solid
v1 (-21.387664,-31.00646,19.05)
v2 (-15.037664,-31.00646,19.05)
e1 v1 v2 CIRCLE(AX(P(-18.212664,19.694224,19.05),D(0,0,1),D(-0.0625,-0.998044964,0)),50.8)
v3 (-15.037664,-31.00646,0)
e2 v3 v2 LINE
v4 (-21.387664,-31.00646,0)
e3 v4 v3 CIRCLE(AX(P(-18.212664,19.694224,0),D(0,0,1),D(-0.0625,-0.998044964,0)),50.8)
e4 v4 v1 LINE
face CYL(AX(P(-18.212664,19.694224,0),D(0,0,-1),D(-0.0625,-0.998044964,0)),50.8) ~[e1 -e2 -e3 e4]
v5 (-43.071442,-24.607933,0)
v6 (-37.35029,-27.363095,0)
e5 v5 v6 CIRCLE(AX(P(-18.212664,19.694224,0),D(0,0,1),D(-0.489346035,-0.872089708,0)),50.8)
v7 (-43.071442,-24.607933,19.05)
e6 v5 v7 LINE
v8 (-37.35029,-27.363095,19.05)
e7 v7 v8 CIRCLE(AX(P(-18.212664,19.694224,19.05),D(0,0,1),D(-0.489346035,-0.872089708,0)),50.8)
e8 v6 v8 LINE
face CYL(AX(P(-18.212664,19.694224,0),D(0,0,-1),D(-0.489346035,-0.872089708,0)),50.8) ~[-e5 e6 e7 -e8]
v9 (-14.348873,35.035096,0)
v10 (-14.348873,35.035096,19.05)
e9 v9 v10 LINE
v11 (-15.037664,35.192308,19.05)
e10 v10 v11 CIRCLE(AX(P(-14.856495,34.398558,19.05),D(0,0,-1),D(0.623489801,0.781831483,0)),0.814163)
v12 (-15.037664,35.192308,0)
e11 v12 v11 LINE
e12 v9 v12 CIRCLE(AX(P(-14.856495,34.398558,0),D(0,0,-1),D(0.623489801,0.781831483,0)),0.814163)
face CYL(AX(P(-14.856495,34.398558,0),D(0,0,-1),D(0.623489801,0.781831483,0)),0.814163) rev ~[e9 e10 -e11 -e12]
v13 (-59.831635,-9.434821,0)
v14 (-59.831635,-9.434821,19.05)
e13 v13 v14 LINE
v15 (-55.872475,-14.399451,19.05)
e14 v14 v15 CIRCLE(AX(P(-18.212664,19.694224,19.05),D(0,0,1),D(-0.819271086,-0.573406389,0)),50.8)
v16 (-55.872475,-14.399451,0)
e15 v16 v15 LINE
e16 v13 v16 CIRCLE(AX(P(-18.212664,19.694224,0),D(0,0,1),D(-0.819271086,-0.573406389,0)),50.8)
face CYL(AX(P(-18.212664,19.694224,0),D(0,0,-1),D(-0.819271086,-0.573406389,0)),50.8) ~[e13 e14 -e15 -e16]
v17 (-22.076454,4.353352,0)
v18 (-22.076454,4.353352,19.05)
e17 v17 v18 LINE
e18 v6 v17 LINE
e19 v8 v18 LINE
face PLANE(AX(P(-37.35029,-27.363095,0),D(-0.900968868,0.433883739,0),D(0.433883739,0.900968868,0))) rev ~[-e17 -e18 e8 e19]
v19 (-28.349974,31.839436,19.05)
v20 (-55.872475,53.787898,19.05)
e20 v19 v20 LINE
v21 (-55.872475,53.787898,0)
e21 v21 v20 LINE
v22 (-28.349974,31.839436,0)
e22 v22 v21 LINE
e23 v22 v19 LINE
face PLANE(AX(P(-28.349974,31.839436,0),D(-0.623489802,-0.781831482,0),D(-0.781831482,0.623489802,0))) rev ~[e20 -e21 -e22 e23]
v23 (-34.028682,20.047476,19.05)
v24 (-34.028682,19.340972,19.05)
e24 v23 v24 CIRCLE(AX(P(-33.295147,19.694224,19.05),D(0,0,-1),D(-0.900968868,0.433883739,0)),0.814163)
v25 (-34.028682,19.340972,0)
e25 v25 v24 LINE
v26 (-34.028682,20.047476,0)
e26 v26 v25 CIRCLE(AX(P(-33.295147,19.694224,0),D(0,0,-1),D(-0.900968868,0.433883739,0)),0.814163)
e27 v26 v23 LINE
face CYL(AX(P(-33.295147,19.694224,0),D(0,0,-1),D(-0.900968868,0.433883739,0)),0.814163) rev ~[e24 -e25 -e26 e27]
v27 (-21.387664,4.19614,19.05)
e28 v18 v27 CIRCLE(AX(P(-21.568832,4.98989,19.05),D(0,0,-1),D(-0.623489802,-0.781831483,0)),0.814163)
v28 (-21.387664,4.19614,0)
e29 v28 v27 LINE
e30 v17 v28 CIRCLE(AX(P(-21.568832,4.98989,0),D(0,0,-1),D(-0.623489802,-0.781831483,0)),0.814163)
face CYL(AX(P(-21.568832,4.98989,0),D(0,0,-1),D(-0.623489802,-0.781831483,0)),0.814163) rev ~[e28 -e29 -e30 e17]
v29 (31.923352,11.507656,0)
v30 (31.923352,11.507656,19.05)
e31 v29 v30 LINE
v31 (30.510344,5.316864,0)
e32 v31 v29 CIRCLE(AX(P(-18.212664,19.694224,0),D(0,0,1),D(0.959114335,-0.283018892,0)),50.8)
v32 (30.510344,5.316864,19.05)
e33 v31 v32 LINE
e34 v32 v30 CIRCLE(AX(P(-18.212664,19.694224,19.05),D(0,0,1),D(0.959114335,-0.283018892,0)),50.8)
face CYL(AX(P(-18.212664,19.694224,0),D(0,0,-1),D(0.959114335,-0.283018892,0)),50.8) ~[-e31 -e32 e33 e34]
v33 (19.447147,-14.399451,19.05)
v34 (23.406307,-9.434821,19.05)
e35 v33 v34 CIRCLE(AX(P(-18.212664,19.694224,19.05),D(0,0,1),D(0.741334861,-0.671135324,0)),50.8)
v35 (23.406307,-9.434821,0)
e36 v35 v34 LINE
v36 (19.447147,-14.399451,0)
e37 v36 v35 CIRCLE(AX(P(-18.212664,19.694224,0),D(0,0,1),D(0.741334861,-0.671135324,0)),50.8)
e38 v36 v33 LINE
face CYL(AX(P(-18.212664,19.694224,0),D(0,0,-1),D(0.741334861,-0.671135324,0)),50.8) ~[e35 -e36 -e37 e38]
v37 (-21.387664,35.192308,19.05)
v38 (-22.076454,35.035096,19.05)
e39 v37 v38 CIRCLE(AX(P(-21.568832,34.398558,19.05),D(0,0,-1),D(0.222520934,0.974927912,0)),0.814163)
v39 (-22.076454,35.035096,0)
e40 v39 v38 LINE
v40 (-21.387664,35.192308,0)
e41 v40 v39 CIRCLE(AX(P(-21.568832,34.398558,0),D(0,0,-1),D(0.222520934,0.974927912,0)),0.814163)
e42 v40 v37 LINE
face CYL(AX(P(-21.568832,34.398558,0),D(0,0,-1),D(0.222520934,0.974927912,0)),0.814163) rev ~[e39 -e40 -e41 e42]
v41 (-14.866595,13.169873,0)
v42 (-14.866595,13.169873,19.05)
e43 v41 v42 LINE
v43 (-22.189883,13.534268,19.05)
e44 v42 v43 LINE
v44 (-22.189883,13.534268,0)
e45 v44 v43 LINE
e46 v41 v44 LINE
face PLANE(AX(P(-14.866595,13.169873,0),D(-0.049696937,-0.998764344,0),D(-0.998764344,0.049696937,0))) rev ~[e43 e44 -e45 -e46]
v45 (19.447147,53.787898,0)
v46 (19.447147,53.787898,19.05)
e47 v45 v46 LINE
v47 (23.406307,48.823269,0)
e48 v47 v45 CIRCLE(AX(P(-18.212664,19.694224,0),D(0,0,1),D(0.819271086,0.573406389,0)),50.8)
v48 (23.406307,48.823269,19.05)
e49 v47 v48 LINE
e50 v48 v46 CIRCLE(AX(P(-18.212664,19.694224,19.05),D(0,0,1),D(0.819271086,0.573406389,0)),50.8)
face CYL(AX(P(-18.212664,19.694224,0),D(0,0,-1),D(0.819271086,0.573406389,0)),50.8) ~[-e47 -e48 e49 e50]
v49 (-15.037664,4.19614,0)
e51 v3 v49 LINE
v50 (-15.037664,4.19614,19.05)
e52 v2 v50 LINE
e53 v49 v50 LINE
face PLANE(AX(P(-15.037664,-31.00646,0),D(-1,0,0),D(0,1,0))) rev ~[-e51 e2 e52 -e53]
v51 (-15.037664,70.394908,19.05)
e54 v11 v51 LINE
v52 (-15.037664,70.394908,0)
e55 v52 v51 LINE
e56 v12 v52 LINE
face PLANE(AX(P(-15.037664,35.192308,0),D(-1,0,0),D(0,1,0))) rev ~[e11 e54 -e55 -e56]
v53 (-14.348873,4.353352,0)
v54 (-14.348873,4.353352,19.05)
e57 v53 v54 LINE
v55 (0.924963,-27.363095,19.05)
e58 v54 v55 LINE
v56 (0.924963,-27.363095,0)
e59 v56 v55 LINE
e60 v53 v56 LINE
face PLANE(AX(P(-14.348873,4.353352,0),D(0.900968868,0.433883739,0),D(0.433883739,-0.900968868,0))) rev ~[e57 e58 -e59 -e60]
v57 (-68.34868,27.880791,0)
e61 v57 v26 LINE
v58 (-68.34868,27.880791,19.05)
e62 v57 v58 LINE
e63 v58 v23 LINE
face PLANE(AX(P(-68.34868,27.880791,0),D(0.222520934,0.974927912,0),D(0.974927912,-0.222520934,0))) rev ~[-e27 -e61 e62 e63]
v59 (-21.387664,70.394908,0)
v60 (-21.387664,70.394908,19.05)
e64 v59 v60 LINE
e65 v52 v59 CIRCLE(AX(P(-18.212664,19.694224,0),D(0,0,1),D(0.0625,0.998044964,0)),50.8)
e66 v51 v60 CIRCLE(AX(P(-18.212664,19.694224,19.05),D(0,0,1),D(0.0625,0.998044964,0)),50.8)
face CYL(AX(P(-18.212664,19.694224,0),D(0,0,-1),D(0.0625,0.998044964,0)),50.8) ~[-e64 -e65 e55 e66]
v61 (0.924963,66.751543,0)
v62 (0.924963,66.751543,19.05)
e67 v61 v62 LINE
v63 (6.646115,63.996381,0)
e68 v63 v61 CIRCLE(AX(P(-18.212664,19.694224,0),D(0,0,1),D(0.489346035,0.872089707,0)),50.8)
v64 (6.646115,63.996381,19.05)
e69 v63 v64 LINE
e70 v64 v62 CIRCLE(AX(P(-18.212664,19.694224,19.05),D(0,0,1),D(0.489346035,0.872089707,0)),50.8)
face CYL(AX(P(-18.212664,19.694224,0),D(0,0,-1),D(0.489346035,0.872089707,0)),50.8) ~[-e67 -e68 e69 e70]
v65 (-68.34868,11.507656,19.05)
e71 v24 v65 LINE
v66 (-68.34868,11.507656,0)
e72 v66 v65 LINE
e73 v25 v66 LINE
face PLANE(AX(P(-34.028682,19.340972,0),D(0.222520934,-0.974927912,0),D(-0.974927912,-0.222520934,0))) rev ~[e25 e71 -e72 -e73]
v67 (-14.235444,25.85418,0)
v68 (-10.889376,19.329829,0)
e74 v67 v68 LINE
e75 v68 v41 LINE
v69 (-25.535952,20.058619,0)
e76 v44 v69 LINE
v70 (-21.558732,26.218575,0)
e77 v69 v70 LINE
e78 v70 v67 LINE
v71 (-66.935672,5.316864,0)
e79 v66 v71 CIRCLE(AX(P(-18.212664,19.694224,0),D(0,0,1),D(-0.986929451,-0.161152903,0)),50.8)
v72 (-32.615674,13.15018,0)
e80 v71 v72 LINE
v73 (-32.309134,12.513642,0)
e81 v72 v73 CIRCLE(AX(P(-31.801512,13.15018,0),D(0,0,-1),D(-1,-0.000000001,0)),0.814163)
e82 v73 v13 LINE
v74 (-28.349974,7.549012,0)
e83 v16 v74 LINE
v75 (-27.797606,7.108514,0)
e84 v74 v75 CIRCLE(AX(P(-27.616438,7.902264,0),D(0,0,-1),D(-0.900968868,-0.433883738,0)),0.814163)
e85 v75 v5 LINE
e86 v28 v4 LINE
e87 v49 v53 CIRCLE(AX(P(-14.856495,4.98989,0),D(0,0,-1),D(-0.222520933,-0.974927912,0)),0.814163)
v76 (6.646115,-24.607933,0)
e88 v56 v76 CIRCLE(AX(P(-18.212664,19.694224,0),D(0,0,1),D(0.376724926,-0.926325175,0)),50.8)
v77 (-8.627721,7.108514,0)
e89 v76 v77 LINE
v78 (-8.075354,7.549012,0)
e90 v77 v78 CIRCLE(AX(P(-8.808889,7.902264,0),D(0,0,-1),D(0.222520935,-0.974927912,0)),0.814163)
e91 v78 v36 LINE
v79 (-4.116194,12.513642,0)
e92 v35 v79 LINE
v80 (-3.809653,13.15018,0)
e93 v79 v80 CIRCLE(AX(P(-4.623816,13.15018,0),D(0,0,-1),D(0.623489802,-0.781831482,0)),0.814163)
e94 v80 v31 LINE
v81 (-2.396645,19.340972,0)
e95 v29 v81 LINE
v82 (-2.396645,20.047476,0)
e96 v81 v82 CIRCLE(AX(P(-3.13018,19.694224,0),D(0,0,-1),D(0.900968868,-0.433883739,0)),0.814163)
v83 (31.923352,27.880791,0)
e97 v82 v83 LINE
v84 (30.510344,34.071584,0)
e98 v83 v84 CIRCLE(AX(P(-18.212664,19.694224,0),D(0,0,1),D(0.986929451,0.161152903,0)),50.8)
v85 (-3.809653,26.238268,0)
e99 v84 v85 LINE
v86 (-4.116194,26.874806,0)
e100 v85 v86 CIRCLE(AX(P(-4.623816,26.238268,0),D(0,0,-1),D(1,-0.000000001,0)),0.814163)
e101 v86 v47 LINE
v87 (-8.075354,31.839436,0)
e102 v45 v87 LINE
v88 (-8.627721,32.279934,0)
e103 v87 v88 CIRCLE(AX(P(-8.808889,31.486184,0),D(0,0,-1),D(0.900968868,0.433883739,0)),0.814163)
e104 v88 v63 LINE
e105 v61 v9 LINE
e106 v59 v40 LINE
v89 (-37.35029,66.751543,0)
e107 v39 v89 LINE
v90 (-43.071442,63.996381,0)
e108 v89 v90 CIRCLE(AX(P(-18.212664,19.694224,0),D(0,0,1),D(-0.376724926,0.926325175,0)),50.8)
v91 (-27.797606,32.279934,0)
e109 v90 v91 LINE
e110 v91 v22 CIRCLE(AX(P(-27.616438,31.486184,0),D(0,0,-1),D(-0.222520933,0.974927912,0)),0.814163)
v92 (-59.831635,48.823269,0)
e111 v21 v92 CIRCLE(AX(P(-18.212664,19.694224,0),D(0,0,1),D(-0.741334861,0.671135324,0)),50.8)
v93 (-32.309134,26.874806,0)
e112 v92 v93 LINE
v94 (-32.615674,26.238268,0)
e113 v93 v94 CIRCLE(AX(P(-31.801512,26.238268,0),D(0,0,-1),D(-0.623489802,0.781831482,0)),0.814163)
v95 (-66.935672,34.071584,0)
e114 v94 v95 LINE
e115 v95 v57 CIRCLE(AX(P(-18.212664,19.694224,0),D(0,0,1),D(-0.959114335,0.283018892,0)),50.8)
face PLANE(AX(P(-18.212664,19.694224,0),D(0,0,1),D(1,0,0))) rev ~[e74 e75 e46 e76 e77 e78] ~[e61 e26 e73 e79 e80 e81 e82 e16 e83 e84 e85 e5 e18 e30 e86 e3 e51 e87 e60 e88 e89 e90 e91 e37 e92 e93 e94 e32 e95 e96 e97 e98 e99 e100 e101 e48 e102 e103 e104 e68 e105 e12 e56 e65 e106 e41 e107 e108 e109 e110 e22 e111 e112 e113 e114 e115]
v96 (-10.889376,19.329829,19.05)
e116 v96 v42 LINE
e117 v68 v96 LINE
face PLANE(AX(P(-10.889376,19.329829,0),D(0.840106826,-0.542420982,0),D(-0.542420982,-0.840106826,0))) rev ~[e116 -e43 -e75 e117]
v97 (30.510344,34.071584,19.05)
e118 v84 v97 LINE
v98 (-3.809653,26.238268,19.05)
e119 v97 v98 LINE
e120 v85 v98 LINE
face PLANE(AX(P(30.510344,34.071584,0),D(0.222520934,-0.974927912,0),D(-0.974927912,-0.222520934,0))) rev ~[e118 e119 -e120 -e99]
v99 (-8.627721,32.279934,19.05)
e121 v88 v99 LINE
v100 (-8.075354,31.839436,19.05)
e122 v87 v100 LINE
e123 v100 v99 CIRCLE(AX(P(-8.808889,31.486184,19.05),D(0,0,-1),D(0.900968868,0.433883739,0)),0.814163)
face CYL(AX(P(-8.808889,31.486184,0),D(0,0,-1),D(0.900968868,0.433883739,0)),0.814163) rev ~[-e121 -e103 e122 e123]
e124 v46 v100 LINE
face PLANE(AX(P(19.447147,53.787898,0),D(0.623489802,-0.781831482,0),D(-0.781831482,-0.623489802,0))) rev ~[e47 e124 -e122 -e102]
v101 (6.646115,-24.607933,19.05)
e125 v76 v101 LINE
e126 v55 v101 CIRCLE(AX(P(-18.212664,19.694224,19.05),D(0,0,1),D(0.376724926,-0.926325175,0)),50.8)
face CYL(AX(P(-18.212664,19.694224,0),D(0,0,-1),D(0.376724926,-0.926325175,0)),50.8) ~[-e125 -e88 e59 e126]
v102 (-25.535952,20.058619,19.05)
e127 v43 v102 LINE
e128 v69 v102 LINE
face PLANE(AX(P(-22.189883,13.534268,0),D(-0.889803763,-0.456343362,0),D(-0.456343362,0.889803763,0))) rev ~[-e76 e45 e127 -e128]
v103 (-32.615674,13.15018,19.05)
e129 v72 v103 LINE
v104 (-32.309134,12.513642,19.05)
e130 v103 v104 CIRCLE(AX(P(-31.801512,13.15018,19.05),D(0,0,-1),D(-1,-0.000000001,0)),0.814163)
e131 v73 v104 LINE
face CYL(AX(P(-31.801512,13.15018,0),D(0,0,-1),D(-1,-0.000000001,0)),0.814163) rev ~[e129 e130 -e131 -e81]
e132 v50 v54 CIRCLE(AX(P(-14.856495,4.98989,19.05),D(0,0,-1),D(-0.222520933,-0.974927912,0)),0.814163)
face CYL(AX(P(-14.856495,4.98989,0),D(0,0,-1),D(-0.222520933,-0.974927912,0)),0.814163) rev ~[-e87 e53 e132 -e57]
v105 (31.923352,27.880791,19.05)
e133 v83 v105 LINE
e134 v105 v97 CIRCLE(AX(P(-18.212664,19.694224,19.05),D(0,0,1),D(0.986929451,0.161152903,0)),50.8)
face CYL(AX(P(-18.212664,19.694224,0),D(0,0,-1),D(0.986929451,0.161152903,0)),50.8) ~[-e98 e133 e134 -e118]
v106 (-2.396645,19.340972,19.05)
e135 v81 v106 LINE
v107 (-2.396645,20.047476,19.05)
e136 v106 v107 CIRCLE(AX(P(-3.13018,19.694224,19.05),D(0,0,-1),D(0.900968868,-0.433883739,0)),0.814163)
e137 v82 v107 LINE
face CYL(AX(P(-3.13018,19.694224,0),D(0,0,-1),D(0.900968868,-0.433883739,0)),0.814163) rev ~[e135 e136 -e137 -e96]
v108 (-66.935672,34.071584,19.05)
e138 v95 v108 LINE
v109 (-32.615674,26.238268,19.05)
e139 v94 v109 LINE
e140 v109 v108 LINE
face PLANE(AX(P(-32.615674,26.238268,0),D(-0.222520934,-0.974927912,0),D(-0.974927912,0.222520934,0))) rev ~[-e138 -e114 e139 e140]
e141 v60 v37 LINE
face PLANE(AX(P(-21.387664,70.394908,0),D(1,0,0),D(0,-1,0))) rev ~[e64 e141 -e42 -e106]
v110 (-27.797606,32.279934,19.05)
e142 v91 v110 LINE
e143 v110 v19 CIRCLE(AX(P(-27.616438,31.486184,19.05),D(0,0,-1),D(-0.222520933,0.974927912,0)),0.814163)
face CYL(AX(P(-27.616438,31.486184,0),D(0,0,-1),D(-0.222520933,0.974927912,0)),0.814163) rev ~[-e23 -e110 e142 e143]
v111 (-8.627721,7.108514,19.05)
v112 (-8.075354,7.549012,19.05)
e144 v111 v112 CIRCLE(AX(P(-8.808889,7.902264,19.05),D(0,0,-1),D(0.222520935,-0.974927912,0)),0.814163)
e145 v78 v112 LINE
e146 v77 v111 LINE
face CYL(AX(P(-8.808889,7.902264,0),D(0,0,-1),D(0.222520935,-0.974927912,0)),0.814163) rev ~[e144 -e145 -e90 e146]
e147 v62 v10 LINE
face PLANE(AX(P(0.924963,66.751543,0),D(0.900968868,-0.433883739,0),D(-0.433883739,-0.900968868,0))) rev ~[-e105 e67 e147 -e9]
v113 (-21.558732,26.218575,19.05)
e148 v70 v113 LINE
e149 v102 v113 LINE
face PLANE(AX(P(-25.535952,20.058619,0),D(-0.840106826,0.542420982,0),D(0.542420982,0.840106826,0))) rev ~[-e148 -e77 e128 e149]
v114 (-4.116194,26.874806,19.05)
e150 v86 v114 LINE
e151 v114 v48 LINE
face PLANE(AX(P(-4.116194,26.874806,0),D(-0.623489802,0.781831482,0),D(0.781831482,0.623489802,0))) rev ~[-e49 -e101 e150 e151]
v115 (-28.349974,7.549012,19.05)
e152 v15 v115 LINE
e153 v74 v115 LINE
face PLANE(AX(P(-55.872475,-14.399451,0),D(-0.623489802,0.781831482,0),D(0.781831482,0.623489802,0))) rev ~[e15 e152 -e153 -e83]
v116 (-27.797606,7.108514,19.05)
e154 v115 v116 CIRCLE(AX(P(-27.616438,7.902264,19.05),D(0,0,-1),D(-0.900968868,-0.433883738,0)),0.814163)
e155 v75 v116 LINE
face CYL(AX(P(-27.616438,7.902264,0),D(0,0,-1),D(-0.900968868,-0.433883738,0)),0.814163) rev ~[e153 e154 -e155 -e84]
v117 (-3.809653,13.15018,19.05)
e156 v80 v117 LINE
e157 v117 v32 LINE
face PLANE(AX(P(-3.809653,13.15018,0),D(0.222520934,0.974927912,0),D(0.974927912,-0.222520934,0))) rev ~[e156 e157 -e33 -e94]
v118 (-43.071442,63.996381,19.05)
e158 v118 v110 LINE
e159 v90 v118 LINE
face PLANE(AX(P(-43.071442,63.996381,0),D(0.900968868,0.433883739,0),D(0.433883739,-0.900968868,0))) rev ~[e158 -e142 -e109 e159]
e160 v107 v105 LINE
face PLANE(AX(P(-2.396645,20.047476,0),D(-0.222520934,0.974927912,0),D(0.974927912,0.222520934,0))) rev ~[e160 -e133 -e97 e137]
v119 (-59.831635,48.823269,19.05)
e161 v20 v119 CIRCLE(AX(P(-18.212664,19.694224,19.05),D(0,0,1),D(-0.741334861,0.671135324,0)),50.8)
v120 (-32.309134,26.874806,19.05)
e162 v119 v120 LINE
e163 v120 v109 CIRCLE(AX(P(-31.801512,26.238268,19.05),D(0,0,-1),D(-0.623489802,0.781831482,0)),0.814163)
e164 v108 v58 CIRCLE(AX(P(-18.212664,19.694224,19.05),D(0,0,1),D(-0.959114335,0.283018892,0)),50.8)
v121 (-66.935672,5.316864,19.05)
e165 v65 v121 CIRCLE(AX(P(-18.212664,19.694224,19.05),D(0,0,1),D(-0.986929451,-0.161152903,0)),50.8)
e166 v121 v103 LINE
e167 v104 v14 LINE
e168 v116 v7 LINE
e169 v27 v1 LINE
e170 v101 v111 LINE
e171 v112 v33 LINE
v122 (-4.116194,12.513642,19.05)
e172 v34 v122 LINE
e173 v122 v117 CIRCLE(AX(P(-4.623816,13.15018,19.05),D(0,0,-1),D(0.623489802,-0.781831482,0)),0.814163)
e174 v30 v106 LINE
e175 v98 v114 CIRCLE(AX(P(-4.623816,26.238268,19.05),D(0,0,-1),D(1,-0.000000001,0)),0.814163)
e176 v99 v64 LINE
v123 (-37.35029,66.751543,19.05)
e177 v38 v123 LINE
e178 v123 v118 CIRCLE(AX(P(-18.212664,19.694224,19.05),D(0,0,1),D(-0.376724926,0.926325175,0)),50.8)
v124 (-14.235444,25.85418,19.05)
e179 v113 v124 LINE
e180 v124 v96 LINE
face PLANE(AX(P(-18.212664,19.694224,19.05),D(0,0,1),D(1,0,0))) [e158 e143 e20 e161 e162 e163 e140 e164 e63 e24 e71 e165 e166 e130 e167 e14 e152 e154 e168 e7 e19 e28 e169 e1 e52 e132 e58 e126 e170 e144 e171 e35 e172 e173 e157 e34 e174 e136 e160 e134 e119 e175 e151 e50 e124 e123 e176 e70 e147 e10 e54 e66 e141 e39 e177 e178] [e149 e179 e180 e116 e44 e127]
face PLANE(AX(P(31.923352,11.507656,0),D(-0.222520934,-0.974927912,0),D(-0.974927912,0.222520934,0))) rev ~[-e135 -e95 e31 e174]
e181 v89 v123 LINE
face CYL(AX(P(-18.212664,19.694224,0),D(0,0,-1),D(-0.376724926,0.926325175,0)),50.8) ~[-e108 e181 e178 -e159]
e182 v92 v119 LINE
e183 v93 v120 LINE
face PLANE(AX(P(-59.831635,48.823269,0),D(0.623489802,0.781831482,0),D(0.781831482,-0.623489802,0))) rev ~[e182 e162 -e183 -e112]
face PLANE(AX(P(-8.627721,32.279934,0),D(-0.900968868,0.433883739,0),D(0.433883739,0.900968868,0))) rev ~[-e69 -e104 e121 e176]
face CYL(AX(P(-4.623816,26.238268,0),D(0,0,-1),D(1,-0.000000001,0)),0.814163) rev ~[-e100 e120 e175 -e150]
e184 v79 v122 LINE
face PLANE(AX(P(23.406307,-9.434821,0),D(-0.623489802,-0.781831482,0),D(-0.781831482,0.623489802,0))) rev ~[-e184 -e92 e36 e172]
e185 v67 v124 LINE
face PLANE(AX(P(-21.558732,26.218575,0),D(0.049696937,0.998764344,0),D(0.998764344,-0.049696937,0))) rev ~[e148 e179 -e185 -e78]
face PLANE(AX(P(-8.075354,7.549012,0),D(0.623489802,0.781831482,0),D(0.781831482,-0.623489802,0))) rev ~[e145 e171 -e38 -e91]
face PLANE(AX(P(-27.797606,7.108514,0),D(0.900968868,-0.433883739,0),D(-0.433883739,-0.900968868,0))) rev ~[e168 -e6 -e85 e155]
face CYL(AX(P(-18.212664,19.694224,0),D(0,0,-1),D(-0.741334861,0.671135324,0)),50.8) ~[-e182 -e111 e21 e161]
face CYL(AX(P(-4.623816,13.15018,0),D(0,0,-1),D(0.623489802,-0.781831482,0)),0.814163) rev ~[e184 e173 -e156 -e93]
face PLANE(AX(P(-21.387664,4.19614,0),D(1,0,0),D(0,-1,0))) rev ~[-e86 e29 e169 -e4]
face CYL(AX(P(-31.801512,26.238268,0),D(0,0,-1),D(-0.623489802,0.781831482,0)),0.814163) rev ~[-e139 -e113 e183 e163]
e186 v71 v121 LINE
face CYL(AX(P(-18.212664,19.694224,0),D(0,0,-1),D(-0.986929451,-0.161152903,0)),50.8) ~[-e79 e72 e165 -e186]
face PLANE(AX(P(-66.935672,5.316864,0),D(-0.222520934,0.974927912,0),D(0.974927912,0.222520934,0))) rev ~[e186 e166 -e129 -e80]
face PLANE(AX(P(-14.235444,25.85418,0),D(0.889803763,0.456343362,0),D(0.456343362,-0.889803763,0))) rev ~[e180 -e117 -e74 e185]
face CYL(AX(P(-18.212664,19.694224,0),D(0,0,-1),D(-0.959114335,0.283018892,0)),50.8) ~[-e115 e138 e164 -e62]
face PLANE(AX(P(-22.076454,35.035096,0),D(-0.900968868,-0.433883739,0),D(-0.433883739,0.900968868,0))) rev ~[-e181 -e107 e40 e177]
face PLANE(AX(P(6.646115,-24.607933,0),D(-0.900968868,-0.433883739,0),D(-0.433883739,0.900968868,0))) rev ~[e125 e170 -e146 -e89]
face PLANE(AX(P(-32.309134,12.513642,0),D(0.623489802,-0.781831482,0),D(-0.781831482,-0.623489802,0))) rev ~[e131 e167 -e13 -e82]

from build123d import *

# Parameters (mm, degrees)
BOSS_EXTRUDE1_DEPTH = 19.05


with BuildPart() as part:
    # Sketch1 → Boss-Extrude1 (new body)
    with BuildSketch(Plane.XY):
        with BuildLine():
            Line((-68.348679847, 27.880791406), (-34.028682265, 20.047475917))
            ThreePointArc((-34.028682265, 20.047475917), (-32.480984204, 19.694223934), (-34.028682265, 19.340971952))
            Line((-34.028682265, 19.340971952), (-68.348679847, 11.507656462))
            ThreePointArc((-68.348679847, 11.507656462), (-67.739001659, 8.390160489), (-66.935671916, 5.31686422))
            Line((-66.935671916, 5.31686422), (-32.615674334, 13.150179709))
            ThreePointArc((-32.615674334, 13.150179709), (-31.067976273, 13.503431692), (-32.309133752, 12.513641632))
            Line((-32.309133752, 12.513641632), (-59.831634906, -9.434820634))
            ThreePointArc((-59.831634906, -9.434820634), (-57.92970303, -11.979058), (-55.872474664, -14.399450548))
            Line((-55.872474664, -14.399450548), (-28.34997351, 7.549011718))
            ThreePointArc((-28.34997351, 7.549011718), (-27.108816032, 8.538801778), (-27.797606467, 7.1085137))
            Line((-27.797606467, 7.1085137), (-43.071442298, -24.60793321))
            ThreePointArc((-43.071442298, -24.60793321), (-40.253957668, -26.074994555), (-37.350289987, -27.363094953))
            Line((-37.350289987, -27.363094953), (-22.076454156, 4.353351957))
            ThreePointArc((-22.076454156, 4.353351957), (-21.38766372, 5.783640035), (-21.38766372, 4.196140035))
            Line((-21.38766372, 4.196140035), (-21.38766372, -31.006460233))
            ThreePointArc((-21.38766372, -31.006460233), (-18.21266372, -31.105776066), (-15.03766372, -31.006460233))
            Line((-15.03766372, -31.006460233), (-15.03766372, 4.196140035))
            ThreePointArc((-15.03766372, 4.196140035), (-15.03766372, 5.783640035), (-14.348873285, 4.353351957))
            Line((-14.348873285, 4.353351957), (0.924962546, -27.363094953))
            ThreePointArc((0.924962546, -27.363094953), (3.828630227, -26.074994555), (6.646114857, -24.60793321))
            Line((6.646114857, -24.60793321), (-8.627720973, 7.1085137))
            ThreePointArc((-8.627720973, 7.1085137), (-9.316511409, 8.538801778), (-8.075353931, 7.549011718))
            Line((-8.075353931, 7.549011718), (19.447147223, -14.399450548))
            ThreePointArc((19.447147223, -14.399450548), (21.504375589, -11.979058), (23.406307465, -9.434820634))
            Line((23.406307465, -9.434820634), (-4.116193689, 12.513641632))
            ThreePointArc((-4.116193689, 12.513641632), (-5.357351167, 13.503431692), (-3.809653107, 13.150179709))
            Line((-3.809653107, 13.150179709), (30.510344475, 5.31686422))
            ThreePointArc((30.510344475, 5.31686422), (31.313674218, 8.390160489), (31.923352406, 11.507656462))
            Line((31.923352406, 11.507656462), (-2.396645176, 19.340971952))
            ThreePointArc((-2.396645176, 19.340971952), (-3.944343237, 19.694223934), (-2.396645176, 20.047475917))
            Line((-2.396645176, 20.047475917), (31.923352406, 27.880791406))
            ThreePointArc((31.923352406, 27.880791406), (31.313674218, 30.998287379), (30.510344475, 34.071583649))
            Line((30.510344475, 34.071583649), (-3.809653107, 26.238268159))
            ThreePointArc((-3.809653107, 26.238268159), (-5.357351167, 25.885016177), (-4.116193689, 26.874806237))
            Line((-4.116193689, 26.874806237), (23.406307465, 48.823268503))
            ThreePointArc((23.406307465, 48.823268503), (21.504375589, 51.367505869), (19.447147223, 53.787898417))
            Line((19.447147223, 53.787898417), (-8.075353931, 31.839436151))
            ThreePointArc((-8.075353931, 31.839436151), (-9.316511409, 30.84964609), (-8.627720973, 32.279934168))
            Line((-8.627720973, 32.279934168), (6.646114857, 63.996381078))
            ThreePointArc((6.646114857, 63.996381078), (3.828630227, 65.463442424), (0.924962546, 66.751542822))
            Line((0.924962546, 66.751542822), (-14.348873285, 35.035095912))
            ThreePointArc((-14.348873285, 35.035095912), (-15.03766372, 33.604807834), (-15.03766372, 35.192307834))
            Line((-15.03766372, 35.192307834), (-15.03766372, 70.394908101))
            ThreePointArc((-15.03766372, 70.394908101), (-18.21266372, 70.494223934), (-21.38766372, 70.394908101))
            Line((-21.38766372, 70.394908101), (-21.38766372, 35.192307834))
            ThreePointArc((-21.38766372, 35.192307834), (-21.38766372, 33.604807834), (-22.076454156, 35.035095912))
            Line((-22.076454156, 35.035095912), (-37.350289987, 66.751542822))
            ThreePointArc((-37.350289987, 66.751542822), (-40.253957668, 65.463442424), (-43.071442298, 63.996381078))
            Line((-43.071442298, 63.996381078), (-27.797606467, 32.279934168))
            ThreePointArc((-27.797606467, 32.279934168), (-27.108816032, 30.84964609), (-28.34997351, 31.839436151))
            Line((-28.34997351, 31.839436151), (-55.872474664, 53.787898417))
            ThreePointArc((-55.872474664, 53.787898417), (-57.92970303, 51.367505869), (-59.831634906, 48.823268503))
            Line((-59.831634906, 48.823268503), (-32.309133752, 26.874806237))
            ThreePointArc((-32.309133752, 26.874806237), (-31.067976273, 25.885016177), (-32.615674334, 26.238268159))
            Line((-32.615674334, 26.238268159), (-66.935671916, 34.071583649))
            ThreePointArc((-66.935671916, 34.071583649), (-67.739001659, 30.998287379), (-68.348679847, 27.880791406))
        make_face()
        Polygon((-10.889375563, 19.329828678), (-14.866595191, 13.169872723), (-22.189883348, 13.534267979), (-25.535951877, 20.05861919), (-21.55873225, 26.218575146), (-14.235444093, 25.854179889), align=None, mode=Mode.SUBTRACT)
    extrude(amount=BOSS_EXTRUDE1_DEPTH)


solid = part.part
